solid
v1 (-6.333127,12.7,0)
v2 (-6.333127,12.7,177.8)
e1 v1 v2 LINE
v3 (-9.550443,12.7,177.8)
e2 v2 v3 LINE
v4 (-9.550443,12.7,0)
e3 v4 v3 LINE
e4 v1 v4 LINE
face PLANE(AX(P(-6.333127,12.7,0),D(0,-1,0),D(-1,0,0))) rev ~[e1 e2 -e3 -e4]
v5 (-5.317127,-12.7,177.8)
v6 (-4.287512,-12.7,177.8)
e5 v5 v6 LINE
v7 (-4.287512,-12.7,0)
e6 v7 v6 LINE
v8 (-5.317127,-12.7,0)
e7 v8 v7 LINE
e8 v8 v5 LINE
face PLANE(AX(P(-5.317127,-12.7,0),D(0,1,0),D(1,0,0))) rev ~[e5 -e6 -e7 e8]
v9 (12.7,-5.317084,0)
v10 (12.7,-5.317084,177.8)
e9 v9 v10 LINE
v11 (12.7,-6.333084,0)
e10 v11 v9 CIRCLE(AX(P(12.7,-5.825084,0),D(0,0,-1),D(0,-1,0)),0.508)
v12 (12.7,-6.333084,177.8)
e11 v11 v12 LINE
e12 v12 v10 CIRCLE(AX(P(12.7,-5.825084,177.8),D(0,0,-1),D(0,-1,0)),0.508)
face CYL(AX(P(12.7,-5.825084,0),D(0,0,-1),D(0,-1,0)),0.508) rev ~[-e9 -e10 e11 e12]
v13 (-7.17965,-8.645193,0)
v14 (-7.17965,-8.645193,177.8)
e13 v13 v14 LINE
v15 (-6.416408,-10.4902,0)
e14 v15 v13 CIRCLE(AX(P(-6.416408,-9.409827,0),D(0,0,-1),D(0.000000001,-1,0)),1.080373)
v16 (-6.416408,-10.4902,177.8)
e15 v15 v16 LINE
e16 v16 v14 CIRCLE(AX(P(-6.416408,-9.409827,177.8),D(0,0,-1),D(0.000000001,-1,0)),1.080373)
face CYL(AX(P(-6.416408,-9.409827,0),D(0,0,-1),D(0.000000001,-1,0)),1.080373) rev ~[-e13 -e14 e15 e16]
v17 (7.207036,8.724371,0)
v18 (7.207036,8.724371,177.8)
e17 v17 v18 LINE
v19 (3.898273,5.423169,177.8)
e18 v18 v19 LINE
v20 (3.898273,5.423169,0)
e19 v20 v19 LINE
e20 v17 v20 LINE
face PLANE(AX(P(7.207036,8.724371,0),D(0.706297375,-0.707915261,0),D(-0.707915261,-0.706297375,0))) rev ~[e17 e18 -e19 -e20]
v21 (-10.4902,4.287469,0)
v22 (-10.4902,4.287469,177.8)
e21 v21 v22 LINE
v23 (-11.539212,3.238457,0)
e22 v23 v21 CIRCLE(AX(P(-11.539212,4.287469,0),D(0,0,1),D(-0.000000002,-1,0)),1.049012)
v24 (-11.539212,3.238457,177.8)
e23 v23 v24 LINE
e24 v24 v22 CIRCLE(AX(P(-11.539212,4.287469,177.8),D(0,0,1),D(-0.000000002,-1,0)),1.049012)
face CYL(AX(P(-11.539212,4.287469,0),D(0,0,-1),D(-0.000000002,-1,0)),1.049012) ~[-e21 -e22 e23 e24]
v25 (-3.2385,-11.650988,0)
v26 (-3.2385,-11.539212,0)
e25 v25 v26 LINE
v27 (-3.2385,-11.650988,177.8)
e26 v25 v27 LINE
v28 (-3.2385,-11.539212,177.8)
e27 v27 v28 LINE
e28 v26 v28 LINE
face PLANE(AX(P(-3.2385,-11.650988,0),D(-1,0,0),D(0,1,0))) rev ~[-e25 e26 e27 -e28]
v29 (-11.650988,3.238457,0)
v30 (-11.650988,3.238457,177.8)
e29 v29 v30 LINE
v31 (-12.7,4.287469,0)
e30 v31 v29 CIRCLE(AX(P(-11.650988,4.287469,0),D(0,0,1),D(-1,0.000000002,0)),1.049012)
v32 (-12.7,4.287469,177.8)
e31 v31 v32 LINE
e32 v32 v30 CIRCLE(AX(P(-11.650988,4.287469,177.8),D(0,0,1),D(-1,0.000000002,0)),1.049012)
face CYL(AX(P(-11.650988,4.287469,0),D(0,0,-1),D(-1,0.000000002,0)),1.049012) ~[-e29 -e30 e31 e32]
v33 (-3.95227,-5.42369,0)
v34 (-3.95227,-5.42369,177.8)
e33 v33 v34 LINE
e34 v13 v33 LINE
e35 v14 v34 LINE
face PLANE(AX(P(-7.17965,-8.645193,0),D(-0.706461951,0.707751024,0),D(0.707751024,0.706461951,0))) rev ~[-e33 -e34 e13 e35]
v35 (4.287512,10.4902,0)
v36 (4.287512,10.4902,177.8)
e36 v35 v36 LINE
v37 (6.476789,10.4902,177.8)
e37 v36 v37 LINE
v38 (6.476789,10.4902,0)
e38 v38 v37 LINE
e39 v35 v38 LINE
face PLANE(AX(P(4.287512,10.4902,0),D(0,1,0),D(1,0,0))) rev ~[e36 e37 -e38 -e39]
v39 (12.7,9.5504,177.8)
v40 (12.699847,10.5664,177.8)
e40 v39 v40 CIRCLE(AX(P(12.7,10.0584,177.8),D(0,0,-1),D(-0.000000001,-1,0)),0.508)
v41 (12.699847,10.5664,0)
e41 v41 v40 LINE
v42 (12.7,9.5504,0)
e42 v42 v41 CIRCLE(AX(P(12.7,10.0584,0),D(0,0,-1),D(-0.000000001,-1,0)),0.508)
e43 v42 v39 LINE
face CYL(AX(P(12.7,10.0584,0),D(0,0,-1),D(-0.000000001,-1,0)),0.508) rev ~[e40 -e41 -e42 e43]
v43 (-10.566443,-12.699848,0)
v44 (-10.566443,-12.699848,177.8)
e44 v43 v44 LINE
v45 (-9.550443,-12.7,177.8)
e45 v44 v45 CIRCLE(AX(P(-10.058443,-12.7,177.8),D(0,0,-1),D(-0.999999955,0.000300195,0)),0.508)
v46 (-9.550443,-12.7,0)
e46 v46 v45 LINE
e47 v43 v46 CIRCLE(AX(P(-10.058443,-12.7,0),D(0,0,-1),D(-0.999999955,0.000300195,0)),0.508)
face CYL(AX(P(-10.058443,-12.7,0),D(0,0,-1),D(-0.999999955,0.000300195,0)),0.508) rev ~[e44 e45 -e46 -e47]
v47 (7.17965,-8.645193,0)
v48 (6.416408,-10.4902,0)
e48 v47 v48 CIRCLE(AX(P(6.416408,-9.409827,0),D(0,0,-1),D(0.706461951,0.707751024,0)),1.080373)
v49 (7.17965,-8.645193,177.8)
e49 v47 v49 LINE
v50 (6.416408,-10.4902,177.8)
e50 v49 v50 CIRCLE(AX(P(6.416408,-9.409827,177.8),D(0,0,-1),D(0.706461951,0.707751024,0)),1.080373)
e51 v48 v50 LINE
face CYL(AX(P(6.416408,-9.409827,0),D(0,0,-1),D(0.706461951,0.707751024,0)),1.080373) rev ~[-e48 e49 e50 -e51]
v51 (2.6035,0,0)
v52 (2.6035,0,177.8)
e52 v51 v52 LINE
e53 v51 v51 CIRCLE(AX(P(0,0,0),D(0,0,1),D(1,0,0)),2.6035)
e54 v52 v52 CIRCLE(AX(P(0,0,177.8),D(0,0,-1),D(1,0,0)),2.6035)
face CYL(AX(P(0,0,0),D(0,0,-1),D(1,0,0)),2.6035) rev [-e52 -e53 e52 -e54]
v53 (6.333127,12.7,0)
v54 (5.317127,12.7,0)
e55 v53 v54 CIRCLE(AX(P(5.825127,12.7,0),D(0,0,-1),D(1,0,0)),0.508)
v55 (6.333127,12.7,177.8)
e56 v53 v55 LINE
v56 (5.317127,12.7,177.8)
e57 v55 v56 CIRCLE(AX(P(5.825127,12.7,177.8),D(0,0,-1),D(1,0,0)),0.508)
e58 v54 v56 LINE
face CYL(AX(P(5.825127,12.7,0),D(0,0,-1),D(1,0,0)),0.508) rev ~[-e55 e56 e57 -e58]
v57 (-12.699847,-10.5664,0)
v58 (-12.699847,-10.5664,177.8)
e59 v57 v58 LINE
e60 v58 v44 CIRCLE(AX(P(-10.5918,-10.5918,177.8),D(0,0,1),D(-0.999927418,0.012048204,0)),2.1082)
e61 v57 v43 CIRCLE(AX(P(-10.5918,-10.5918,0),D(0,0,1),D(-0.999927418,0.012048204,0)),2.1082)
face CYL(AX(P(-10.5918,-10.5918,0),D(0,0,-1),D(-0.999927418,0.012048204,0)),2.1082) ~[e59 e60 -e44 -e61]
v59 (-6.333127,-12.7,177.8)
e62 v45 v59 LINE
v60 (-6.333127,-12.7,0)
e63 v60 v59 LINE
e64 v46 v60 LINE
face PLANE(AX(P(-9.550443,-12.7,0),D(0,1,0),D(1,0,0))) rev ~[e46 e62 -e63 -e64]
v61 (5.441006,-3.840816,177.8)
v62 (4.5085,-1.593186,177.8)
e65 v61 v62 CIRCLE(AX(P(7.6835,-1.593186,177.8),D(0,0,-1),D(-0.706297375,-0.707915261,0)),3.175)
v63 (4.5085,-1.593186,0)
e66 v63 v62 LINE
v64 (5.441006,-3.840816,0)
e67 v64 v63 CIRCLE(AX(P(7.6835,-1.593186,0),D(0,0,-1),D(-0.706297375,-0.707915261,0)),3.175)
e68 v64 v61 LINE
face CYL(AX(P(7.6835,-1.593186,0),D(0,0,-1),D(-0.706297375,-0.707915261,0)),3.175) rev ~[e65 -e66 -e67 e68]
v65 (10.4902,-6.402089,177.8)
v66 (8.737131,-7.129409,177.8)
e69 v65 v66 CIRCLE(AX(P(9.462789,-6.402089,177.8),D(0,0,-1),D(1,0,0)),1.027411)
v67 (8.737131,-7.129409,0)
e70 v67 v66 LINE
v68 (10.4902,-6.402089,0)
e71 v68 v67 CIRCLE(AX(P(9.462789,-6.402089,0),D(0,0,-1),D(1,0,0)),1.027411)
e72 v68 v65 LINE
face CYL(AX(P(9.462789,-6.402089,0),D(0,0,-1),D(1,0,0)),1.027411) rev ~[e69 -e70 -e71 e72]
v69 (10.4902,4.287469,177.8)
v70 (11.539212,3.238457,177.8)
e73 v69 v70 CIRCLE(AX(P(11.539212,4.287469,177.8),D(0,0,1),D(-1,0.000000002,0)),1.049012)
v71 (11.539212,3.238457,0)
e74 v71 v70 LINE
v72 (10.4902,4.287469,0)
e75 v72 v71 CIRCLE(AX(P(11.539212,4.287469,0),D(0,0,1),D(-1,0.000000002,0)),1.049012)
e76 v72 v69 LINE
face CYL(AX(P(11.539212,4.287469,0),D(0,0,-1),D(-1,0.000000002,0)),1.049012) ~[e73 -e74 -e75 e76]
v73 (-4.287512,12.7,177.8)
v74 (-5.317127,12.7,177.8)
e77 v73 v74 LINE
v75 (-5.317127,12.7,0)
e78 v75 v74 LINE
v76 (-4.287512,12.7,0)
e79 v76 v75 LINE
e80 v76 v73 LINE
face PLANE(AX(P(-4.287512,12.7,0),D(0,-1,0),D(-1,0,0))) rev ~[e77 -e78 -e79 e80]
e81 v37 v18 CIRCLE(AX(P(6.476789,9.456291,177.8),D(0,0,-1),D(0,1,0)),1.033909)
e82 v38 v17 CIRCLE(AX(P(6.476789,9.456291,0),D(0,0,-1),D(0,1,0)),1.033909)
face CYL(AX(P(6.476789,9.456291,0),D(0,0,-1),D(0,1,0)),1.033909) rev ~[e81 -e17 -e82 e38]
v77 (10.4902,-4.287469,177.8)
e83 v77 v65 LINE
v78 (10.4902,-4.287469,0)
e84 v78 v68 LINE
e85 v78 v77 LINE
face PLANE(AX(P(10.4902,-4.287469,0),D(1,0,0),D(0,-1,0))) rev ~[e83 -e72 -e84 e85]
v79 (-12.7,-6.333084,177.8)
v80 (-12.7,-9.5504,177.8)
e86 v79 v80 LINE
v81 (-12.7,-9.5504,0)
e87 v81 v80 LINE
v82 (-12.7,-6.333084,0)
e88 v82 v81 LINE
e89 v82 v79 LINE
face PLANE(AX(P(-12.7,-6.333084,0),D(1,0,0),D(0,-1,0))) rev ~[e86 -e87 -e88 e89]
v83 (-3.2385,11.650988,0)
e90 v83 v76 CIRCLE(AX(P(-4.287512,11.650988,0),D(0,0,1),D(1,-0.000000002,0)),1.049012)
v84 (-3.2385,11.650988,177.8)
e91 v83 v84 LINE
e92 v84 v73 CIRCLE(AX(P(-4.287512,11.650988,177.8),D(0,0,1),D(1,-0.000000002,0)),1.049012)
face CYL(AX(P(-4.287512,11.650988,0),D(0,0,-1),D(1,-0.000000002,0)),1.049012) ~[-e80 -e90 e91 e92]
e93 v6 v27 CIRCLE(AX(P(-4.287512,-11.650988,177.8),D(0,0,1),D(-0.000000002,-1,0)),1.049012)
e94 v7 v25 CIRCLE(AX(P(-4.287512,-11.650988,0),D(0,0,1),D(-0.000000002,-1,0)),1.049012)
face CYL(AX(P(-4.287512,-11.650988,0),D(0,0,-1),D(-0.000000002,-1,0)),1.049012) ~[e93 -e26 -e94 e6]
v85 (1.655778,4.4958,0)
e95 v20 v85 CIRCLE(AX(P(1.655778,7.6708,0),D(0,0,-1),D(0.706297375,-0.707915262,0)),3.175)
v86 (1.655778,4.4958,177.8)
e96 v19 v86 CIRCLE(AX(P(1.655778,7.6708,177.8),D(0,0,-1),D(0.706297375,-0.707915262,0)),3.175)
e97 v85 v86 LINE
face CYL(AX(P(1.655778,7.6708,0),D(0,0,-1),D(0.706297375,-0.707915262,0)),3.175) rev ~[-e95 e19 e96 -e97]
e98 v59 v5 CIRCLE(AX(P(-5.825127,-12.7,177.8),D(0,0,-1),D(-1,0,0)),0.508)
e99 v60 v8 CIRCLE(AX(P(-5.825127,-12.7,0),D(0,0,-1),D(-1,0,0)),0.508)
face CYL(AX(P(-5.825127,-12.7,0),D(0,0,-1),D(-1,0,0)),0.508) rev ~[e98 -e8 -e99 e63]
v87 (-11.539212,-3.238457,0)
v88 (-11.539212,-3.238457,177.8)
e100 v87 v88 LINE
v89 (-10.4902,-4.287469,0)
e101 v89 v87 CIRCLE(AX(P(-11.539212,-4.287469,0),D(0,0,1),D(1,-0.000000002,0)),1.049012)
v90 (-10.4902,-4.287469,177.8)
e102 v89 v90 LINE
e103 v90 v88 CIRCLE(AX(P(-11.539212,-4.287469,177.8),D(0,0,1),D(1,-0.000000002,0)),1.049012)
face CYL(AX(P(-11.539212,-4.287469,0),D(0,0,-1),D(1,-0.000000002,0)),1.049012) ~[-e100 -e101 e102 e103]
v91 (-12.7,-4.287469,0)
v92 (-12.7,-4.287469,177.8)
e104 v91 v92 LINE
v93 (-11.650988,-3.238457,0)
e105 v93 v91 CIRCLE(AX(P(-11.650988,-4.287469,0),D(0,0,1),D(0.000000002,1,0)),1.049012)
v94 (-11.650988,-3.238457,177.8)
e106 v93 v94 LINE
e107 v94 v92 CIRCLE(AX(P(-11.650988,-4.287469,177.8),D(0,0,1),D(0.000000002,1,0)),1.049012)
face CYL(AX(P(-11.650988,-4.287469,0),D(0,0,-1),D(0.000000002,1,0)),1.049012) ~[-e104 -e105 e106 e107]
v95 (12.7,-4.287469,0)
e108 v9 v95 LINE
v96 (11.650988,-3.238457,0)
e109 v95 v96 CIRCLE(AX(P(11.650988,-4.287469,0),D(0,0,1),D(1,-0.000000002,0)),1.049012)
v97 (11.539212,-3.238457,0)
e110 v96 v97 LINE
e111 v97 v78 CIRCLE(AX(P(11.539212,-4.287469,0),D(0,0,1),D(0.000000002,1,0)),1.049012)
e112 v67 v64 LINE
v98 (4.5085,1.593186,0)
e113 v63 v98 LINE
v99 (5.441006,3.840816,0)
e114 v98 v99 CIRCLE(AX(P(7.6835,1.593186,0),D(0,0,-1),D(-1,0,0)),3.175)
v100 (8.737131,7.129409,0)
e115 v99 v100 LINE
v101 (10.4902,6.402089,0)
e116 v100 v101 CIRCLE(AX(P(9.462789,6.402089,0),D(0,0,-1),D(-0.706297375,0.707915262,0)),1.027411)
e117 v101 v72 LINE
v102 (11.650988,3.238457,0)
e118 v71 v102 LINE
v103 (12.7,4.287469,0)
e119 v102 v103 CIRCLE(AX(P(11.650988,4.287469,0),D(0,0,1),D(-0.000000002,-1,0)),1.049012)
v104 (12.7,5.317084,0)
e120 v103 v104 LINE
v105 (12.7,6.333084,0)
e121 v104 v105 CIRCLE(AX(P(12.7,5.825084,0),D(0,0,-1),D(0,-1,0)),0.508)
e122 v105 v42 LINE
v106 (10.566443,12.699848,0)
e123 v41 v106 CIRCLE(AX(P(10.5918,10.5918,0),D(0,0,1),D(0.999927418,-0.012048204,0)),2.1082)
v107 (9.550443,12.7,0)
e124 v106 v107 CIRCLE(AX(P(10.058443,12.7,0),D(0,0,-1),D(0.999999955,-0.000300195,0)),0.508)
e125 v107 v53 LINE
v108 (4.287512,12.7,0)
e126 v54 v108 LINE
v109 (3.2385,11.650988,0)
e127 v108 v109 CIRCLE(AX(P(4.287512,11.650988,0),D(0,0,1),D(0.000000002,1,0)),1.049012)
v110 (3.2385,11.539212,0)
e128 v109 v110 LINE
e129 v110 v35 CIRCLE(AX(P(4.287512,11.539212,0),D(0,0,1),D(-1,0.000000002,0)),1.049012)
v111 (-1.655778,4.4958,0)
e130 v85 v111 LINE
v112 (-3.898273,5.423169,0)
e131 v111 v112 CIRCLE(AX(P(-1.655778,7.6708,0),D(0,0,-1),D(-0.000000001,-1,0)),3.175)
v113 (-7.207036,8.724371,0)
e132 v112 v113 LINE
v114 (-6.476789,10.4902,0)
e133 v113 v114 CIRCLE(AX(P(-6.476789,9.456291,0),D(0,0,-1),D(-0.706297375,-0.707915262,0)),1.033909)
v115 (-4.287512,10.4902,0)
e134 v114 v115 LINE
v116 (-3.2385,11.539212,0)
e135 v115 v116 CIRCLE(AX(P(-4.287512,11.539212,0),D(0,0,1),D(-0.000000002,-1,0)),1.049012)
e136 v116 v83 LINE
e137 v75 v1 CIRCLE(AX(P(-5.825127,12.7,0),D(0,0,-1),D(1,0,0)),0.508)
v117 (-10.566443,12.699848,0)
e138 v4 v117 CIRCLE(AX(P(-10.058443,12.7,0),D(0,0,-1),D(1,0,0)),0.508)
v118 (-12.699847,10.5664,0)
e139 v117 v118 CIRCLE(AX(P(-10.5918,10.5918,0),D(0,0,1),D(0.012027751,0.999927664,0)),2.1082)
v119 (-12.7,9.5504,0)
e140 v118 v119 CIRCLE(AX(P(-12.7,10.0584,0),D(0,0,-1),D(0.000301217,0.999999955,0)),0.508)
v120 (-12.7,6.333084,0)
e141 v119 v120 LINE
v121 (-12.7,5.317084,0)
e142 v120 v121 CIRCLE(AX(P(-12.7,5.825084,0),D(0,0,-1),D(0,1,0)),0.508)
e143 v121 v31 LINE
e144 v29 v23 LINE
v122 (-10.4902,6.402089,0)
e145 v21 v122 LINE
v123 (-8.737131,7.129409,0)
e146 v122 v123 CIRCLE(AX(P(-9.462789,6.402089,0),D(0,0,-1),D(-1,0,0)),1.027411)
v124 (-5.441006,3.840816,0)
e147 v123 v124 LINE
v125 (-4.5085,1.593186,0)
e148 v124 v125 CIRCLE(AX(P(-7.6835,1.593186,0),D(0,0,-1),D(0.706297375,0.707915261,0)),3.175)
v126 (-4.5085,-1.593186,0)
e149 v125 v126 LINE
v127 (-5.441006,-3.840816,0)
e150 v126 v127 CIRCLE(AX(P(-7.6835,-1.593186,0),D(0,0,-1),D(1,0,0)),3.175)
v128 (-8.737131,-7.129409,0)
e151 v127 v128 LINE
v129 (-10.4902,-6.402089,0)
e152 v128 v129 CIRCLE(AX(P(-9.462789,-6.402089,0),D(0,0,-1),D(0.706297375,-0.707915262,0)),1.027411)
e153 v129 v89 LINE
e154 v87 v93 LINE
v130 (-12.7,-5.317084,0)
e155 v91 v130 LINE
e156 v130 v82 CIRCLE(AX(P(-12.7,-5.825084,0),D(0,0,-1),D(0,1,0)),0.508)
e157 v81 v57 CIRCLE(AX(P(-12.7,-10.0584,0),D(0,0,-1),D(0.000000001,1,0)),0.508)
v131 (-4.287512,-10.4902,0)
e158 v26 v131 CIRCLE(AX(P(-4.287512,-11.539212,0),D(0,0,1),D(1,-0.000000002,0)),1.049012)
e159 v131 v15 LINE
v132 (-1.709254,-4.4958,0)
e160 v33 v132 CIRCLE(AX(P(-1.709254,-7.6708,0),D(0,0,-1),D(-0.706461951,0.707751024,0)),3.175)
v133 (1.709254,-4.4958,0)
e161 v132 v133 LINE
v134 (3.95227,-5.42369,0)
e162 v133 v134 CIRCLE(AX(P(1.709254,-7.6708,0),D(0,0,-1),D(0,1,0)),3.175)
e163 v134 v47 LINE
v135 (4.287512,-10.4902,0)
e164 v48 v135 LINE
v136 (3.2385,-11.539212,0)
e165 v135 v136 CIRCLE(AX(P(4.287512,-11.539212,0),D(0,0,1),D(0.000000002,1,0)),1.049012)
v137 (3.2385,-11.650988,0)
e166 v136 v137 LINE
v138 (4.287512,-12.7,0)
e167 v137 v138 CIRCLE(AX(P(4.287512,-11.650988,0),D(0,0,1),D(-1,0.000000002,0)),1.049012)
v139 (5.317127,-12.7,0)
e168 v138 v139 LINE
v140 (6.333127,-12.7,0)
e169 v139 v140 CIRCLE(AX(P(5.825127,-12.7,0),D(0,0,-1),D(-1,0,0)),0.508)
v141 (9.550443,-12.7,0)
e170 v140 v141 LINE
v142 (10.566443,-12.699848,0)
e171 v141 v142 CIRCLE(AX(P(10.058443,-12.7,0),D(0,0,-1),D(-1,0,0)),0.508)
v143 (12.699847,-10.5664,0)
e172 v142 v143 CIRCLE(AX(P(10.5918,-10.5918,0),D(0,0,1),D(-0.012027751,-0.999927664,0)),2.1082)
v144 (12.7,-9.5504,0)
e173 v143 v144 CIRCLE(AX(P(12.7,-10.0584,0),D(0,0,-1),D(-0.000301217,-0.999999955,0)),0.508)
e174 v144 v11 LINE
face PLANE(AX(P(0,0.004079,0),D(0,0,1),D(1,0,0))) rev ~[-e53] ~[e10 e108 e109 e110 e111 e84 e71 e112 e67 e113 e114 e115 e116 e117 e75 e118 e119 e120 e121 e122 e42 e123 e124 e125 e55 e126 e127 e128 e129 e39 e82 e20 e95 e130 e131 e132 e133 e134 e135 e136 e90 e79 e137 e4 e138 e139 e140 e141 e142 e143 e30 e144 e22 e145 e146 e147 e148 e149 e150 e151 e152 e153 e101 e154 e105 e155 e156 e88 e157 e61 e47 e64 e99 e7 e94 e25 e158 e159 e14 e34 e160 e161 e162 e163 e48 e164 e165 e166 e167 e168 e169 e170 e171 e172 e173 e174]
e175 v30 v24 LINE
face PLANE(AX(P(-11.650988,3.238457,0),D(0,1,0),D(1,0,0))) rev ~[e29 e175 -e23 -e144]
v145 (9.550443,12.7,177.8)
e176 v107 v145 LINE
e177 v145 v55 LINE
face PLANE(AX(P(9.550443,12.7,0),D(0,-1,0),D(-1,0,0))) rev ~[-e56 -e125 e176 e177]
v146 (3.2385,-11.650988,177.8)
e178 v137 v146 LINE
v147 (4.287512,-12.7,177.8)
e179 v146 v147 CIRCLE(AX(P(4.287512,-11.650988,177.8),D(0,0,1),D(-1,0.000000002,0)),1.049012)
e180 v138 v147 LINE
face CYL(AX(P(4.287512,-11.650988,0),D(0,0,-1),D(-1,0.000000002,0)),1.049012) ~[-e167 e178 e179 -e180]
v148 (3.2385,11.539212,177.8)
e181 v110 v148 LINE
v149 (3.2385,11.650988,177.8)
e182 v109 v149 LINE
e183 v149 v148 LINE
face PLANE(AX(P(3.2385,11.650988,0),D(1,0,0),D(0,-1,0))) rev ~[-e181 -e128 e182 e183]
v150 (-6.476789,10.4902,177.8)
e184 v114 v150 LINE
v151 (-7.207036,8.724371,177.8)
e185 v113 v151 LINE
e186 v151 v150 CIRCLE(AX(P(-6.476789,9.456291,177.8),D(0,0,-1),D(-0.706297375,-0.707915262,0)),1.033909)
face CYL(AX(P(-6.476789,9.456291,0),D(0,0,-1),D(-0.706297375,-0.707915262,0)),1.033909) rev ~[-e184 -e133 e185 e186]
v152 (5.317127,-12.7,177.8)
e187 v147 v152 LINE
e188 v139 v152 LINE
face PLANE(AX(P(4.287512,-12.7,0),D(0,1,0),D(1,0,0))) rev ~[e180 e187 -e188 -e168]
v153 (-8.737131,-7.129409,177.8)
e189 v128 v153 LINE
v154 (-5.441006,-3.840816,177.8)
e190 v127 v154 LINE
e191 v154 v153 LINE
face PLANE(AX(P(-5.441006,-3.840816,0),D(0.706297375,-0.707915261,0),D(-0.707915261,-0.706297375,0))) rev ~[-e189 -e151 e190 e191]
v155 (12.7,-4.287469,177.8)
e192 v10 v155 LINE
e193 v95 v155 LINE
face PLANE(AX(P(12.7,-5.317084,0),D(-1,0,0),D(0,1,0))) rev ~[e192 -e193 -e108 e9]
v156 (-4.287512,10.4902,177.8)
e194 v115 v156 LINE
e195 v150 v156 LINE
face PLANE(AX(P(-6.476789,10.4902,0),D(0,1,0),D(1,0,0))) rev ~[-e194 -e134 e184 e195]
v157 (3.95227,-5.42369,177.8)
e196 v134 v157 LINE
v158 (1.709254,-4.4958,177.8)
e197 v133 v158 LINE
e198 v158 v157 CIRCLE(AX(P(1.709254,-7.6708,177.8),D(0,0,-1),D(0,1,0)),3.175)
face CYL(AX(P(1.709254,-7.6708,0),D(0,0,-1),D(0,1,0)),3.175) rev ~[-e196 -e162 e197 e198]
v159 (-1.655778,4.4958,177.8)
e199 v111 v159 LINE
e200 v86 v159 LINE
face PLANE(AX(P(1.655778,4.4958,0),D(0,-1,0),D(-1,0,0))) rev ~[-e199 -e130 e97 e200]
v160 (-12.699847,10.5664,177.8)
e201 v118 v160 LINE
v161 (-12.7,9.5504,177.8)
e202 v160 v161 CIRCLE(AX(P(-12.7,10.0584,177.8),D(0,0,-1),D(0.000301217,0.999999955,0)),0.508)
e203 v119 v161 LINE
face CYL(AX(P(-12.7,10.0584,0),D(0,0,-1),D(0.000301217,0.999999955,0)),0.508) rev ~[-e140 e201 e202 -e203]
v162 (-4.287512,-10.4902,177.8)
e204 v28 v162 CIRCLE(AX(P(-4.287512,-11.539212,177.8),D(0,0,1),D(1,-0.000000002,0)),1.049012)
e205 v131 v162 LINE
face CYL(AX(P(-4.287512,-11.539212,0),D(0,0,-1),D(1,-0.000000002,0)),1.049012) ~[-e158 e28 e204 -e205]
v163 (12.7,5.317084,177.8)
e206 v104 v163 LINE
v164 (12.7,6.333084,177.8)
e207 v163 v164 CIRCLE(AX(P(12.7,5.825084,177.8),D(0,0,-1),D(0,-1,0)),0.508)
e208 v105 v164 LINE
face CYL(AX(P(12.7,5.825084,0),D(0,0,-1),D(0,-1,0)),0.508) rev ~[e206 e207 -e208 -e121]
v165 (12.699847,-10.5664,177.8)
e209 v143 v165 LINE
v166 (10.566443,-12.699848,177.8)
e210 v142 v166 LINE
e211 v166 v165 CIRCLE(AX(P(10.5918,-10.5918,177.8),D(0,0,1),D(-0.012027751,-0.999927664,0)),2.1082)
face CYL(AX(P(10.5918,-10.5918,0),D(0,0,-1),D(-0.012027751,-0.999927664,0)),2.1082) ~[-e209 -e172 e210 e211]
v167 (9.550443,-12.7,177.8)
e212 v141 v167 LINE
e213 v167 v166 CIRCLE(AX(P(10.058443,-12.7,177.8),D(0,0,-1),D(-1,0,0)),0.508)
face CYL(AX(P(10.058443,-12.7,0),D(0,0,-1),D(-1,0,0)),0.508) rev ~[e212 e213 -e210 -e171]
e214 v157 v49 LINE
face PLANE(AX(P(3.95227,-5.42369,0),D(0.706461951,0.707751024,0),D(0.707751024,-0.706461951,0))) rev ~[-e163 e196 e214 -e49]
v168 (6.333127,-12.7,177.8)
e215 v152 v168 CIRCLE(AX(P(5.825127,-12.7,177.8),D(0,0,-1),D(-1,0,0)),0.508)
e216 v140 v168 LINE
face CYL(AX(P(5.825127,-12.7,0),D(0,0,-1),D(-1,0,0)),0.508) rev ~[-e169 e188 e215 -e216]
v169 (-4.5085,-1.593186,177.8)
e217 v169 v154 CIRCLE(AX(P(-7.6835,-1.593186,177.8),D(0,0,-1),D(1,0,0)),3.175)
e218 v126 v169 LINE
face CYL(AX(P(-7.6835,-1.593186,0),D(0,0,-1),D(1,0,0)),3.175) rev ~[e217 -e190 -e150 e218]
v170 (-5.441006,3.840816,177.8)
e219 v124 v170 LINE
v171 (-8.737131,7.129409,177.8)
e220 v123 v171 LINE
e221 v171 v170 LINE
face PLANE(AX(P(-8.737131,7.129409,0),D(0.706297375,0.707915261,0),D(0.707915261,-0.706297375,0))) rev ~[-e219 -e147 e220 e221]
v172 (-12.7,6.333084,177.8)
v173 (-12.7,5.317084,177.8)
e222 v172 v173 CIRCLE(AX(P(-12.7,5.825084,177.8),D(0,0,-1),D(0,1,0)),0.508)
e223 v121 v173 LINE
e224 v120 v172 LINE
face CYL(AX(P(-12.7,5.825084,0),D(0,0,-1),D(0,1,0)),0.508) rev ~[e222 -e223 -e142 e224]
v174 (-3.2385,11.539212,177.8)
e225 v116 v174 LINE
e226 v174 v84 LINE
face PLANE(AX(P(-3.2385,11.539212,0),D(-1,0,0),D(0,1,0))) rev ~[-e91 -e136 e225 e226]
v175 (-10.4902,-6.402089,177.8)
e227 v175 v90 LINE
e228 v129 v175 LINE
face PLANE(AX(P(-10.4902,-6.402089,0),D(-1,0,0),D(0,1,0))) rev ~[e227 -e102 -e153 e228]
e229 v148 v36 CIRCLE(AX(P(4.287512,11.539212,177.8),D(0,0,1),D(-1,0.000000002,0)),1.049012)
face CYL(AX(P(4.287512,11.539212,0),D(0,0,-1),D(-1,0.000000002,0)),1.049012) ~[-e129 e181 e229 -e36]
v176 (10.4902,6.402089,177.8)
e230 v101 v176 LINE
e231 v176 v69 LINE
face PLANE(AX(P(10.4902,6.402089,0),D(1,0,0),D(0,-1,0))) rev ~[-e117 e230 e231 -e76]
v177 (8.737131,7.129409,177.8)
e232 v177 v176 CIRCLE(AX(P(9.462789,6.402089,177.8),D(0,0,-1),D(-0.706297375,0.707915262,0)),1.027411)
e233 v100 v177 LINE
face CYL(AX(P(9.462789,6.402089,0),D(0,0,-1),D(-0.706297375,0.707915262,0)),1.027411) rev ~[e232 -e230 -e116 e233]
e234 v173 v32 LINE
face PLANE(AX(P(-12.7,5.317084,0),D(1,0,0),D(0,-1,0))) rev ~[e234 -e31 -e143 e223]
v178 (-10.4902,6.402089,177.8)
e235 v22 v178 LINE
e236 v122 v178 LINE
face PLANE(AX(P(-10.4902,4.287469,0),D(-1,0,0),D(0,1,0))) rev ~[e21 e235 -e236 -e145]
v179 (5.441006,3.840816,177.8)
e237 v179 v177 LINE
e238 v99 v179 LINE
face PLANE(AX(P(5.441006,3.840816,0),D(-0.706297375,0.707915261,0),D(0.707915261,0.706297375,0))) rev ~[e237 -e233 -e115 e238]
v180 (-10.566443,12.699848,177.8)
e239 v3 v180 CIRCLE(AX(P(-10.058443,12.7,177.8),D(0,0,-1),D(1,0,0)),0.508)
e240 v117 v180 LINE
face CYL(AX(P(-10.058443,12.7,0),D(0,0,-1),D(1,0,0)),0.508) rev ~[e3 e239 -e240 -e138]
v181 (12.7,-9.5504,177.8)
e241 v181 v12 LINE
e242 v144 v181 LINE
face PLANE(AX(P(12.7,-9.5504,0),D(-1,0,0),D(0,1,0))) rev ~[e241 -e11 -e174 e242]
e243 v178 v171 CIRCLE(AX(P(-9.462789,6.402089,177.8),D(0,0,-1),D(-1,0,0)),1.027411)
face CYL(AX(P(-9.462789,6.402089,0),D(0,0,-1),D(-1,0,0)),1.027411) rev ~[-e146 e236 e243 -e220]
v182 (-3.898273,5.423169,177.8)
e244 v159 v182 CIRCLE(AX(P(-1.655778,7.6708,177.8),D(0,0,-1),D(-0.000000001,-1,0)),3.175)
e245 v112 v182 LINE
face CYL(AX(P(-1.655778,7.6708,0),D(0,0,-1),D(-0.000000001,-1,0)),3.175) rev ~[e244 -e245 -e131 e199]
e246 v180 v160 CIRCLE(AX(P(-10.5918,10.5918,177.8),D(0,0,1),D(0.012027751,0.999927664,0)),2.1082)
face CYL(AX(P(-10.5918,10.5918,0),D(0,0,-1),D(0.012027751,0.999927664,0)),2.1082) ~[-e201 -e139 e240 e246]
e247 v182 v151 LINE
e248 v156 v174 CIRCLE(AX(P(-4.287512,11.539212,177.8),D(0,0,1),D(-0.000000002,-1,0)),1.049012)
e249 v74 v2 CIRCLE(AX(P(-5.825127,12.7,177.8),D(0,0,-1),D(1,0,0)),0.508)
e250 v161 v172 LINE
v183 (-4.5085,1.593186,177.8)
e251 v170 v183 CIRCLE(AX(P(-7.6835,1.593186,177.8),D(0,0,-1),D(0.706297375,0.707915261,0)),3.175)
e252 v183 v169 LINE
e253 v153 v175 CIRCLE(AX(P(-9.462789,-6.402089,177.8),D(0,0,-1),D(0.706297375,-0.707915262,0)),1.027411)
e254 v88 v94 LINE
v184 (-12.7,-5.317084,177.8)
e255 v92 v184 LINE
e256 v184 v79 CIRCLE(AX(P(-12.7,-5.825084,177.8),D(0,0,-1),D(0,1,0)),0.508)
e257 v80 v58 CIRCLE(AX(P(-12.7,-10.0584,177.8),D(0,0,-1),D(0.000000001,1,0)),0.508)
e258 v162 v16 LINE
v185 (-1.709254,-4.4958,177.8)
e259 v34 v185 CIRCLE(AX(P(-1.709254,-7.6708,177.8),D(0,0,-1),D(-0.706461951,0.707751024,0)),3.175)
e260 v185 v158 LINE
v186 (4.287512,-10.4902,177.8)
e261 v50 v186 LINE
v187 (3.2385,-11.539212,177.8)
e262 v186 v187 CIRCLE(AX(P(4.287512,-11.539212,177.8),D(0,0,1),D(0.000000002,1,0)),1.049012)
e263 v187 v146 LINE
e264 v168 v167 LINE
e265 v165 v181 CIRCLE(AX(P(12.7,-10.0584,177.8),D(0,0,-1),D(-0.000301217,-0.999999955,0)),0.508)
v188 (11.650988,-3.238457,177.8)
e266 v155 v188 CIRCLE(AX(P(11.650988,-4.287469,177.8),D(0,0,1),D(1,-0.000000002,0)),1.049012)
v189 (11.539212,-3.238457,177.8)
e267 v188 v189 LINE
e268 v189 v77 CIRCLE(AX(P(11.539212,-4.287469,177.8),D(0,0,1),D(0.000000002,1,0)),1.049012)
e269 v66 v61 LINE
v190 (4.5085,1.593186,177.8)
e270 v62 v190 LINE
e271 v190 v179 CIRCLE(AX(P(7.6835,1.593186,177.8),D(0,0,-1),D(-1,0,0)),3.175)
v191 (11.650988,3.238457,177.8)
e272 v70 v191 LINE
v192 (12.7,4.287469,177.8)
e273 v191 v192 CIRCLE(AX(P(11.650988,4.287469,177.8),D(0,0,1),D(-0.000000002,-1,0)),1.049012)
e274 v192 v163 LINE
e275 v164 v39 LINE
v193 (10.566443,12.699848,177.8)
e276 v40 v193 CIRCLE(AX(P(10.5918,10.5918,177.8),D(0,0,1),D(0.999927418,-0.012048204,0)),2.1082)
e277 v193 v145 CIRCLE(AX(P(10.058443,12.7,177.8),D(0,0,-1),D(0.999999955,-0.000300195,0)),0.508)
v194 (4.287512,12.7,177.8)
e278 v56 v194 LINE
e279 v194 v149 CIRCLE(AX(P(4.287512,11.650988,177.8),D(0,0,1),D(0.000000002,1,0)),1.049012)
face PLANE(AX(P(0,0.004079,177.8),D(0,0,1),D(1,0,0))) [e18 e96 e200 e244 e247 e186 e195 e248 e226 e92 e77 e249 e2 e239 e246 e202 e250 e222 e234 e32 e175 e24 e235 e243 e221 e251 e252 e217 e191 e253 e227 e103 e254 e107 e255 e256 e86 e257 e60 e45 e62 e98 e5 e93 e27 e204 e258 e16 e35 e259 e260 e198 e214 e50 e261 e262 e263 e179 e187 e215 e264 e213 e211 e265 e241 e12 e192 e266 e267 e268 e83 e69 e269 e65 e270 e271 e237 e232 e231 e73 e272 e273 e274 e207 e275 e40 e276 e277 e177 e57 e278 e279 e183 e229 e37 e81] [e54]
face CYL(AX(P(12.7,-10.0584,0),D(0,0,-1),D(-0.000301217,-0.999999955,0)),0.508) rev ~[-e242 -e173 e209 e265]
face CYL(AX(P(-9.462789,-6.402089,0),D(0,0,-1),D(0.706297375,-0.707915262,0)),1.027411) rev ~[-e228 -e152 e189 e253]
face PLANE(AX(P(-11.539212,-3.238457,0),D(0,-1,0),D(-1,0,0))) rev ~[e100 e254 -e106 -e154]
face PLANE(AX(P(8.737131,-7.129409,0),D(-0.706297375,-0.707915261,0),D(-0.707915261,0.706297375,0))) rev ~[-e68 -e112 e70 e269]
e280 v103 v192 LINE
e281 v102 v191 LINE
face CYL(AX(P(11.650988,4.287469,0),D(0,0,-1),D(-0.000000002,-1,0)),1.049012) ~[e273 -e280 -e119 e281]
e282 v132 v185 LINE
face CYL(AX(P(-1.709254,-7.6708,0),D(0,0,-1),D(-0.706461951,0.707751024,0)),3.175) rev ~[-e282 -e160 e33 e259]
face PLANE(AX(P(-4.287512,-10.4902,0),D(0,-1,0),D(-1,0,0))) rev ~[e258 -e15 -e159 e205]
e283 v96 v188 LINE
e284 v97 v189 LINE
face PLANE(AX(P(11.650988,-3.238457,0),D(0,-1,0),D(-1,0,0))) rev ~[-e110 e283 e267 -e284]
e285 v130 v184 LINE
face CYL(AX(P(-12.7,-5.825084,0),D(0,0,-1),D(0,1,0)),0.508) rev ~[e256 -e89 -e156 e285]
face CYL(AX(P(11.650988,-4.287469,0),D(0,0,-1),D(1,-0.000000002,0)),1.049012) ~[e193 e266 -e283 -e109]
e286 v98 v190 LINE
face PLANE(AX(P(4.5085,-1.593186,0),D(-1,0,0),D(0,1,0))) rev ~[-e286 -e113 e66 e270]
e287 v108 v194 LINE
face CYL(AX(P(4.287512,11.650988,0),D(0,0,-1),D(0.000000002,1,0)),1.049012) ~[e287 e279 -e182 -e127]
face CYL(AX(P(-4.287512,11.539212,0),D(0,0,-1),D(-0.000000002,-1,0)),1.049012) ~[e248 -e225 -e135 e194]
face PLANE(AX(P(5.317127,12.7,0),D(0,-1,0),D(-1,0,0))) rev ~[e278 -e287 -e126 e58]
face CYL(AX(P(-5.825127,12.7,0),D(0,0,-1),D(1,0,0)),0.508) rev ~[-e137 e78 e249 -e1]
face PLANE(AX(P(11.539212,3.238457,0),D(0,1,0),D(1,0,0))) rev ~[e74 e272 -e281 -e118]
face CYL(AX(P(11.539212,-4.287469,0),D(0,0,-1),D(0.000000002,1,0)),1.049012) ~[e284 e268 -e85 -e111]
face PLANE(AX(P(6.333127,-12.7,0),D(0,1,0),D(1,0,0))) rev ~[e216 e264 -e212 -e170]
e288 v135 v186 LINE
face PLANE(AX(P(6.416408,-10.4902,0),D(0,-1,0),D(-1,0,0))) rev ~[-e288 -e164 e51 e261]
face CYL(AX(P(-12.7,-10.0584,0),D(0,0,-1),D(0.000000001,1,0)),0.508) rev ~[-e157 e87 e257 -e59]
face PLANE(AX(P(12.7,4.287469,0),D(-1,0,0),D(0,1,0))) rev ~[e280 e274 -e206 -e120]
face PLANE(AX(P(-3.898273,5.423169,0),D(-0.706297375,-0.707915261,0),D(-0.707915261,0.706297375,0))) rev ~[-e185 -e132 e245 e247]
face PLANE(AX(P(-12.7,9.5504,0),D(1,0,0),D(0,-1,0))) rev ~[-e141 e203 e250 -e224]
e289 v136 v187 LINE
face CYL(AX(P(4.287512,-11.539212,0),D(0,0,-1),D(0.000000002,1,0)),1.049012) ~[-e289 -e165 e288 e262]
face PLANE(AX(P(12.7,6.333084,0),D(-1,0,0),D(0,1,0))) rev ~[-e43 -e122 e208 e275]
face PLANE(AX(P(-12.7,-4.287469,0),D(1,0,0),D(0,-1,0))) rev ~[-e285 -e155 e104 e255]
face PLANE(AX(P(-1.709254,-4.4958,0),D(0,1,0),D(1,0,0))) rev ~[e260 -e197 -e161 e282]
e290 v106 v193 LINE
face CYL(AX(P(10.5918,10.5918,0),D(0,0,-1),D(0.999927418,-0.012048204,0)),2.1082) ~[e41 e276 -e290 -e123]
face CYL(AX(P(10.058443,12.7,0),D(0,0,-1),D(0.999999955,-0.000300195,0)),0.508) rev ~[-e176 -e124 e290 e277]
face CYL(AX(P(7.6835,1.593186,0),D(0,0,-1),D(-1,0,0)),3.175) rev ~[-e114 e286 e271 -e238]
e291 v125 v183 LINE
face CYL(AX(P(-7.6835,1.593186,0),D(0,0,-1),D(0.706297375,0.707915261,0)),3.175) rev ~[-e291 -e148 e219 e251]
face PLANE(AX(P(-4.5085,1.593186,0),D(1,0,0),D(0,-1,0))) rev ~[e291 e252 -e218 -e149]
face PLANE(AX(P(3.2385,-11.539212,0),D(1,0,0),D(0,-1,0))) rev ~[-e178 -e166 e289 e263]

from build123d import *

# Parameters (mm, degrees)
SKETCH1_R           = 2.6035
BOSS_EXTRUDE1_DEPTH = 2463.8
CUT_EXTRUDE1_DEPTH  = 2286


with BuildPart() as part:
    # Sketch1 → Boss-Extrude1 (new body)
    with BuildSketch(Plane.XY):
        with BuildLine():
            Line((-1.709253557, -4.4958), (1.709253557, -4.4958))
            ThreePointArc((1.709253557, -4.4958), (2.922936451, -4.736929036), (3.952270251, -5.423690499))
            Line((3.952270251, -5.423690499), (7.179650497, -8.645192506))
            ThreePointArc((7.179650497, -8.645192506), (7.41473083, -9.822813117), (6.416408329, -10.4902))
            Line((6.416408329, -10.4902), (4.287512407, -10.4902))
            ThreePointArc((4.287512407, -10.4902), (3.54574862, -10.79744862), (3.2385, -11.539212407))
            Line((3.2385, -11.539212407), (3.2385, -11.650987593))
            ThreePointArc((3.2385, -11.650987593), (3.54574862, -12.39275138), (4.287512407, -12.7))
            Line((4.287512407, -12.7), (5.317126718, -12.7))
            ThreePointArc((5.317126718, -12.7), (5.825126718, -12.192), (6.333126718, -12.7))
            Line((6.333126718, -12.7), (9.550443118, -12.7))
            ThreePointArc((9.550443118, -12.7), (10.058366869, -12.192000006), (10.566443095, -12.699847501))
            ThreePointArc((10.566443095, -12.699847501), (12.082537762, -12.08250727), (12.699846982, -10.566399977))
            ThreePointArc((12.699846982, -10.566399977), (12.192000006, -10.058323491), (12.7, -9.5504))
            Line((12.7, -9.5504), (12.7, -6.3330836))
            ThreePointArc((12.7, -6.3330836), (12.192, -5.8250836), (12.7, -5.3170836))
            Line((12.7, -5.3170836), (12.7, -4.287469289))
            ThreePointArc((12.7, -4.287469289), (12.39275138, -3.545705502), (11.650987593, -3.238456882))
            Line((11.650987593, -3.238456882), (11.539212407, -3.238456882))
            ThreePointArc((11.539212407, -3.238456882), (10.79744862, -3.545705502), (10.4902, -4.287469289))
            Line((10.4902, -4.287469289), (10.4902, -6.402089023))
            ThreePointArc((10.4902, -6.402089023), (9.856505071, -7.351067942), (8.737131347, -7.129408934))
            Line((8.737131347, -7.129408934), (5.441005833, -3.840816462))
            ThreePointArc((5.441005833, -3.840816462), (4.750877967, -2.809883091), (4.5085, -1.593185507))
            Line((4.5085, -1.593185507), (4.5085, 1.593185507))
            ThreePointArc((4.5085, 1.593185507), (4.750877967, 2.809883091), (5.441005833, 3.840816462))
            Line((5.441005833, 3.840816462), (8.737131347, 7.129408934))
            ThreePointArc((8.737131347, 7.129408934), (9.856505071, 7.351067942), (10.4902, 6.402089023))
            Line((10.4902, 6.402089023), (10.4902, 4.287469289))
            ThreePointArc((10.4902, 4.287469289), (10.79744862, 3.545705502), (11.539212407, 3.238456882))
            Line((11.539212407, 3.238456882), (11.650987593, 3.238456882))
            ThreePointArc((11.650987593, 3.238456882), (12.39275138, 3.545705502), (12.7, 4.287469289))
            Line((12.7, 4.287469289), (12.7, 5.3170836))
            ThreePointArc((12.7, 5.3170836), (12.192, 5.8250836), (12.7, 6.3330836))
            Line((12.7, 6.3330836), (12.7, 9.5504))
            ThreePointArc((12.7, 9.5504), (12.192000006, 10.058323491), (12.699846982, 10.566399977))
            ThreePointArc((12.699846982, 10.566399977), (12.082537762, 12.08250727), (10.566443095, 12.699847501))
            ThreePointArc((10.566443095, 12.699847501), (10.058366869, 12.192000006), (9.550443118, 12.7))
            Line((9.550443118, 12.7), (6.333126718, 12.7))
            ThreePointArc((6.333126718, 12.7), (5.825126718, 12.192), (5.317126718, 12.7))
            Line((5.317126718, 12.7), (4.287512407, 12.7))
            ThreePointArc((4.287512407, 12.7), (3.54574862, 12.39275138), (3.2385, 11.650987593))
            Line((3.2385, 11.650987593), (3.2385, 11.539212407))
            ThreePointArc((3.2385, 11.539212407), (3.54574862, 10.79744862), (4.287512407, 10.4902))
            Line((4.287512407, 10.4902), (6.476788598, 10.4902))
            ThreePointArc((6.476788598, 10.4902), (7.432222385, 9.85140422), (7.207036008, 8.724370562))
            Line((7.207036008, 8.724370562), (3.898272566, 5.423169045))
            ThreePointArc((3.898272566, 5.423169045), (2.869120213, 4.736787962), (1.655778399, 4.4958))
            Line((1.655778399, 4.4958), (-1.655778399, 4.4958))
            ThreePointArc((-1.655778399, 4.4958), (-2.869120213, 4.736787962), (-3.898272566, 5.423169045))
            Line((-3.898272566, 5.423169045), (-7.207036008, 8.724370562))
            ThreePointArc((-7.207036008, 8.724370562), (-7.432222385, 9.85140422), (-6.476788598, 10.4902))
            Line((-6.476788598, 10.4902), (-4.287512407, 10.4902))
            ThreePointArc((-4.287512407, 10.4902), (-3.54574862, 10.79744862), (-3.2385, 11.539212407))
            Line((-3.2385, 11.539212407), (-3.2385, 11.650987593))
            ThreePointArc((-3.2385, 11.650987593), (-3.54574862, 12.39275138), (-4.287512407, 12.7))
            Line((-4.287512407, 12.7), (-5.317126718, 12.7))
            ThreePointArc((-5.317126718, 12.7), (-5.825126718, 12.192), (-6.333126718, 12.7))
            Line((-6.333126718, 12.7), (-9.550443118, 12.7))
            ThreePointArc((-9.550443118, 12.7), (-10.058366869, 12.192000006), (-10.566443095, 12.699847501))
            ThreePointArc((-10.566443095, 12.699847501), (-12.082537762, 12.08250727), (-12.699846982, 10.566399977))
            ThreePointArc((-12.699846982, 10.566399977), (-12.192000006, 10.058323491), (-12.7, 9.5504))
            Line((-12.7, 9.5504), (-12.7, 6.3330836))
            ThreePointArc((-12.7, 6.3330836), (-12.192, 5.8250836), (-12.7, 5.3170836))
            Line((-12.7, 5.3170836), (-12.7, 4.287469289))
            ThreePointArc((-12.7, 4.287469289), (-12.39275138, 3.545705502), (-11.650987593, 3.238456882))
            Line((-11.650987593, 3.238456882), (-11.539212407, 3.238456882))
            ThreePointArc((-11.539212407, 3.238456882), (-10.79744862, 3.545705502), (-10.4902, 4.287469289))
            Line((-10.4902, 4.287469289), (-10.4902, 6.402089023))
            ThreePointArc((-10.4902, 6.402089023), (-9.856505071, 7.351067942), (-8.737131347, 7.129408934))
            Line((-8.737131347, 7.129408934), (-5.441005833, 3.840816462))
            ThreePointArc((-5.441005833, 3.840816462), (-4.750877967, 2.809883091), (-4.5085, 1.593185507))
            Line((-4.5085, 1.593185507), (-4.5085, -1.593185507))
            ThreePointArc((-4.5085, -1.593185507), (-4.750877967, -2.809883091), (-5.441005833, -3.840816462))
            Line((-5.441005833, -3.840816462), (-8.737131347, -7.129408934))
            ThreePointArc((-8.737131347, -7.129408934), (-9.856505071, -7.351067942), (-10.4902, -6.402089023))
            Line((-10.4902, -6.402089023), (-10.4902, -4.287469289))
            ThreePointArc((-10.4902, -4.287469289), (-10.79744862, -3.545705502), (-11.539212407, -3.238456882))
            Line((-11.539212407, -3.238456882), (-11.650987593, -3.238456882))
            ThreePointArc((-11.650987593, -3.238456882), (-12.39275138, -3.545705502), (-12.7, -4.287469289))
            Line((-12.7, -4.287469289), (-12.7, -5.3170836))
            ThreePointArc((-12.7, -5.3170836), (-12.192, -5.8250836), (-12.7, -6.3330836))
            Line((-12.7, -6.3330836), (-12.7, -9.5504))
            ThreePointArc((-12.7, -9.5504), (-12.192000006, -10.058323491), (-12.699846982, -10.566399977))
            ThreePointArc((-12.699846982, -10.566399977), (-12.082537762, -12.08250727), (-10.566443095, -12.699847501))
            ThreePointArc((-10.566443095, -12.699847501), (-10.058366869, -12.192000006), (-9.550443118, -12.7))
            Line((-9.550443118, -12.7), (-6.333126718, -12.7))
            ThreePointArc((-6.333126718, -12.7), (-5.825126718, -12.192), (-5.317126718, -12.7))
            Line((-5.317126718, -12.7), (-4.287512407, -12.7))
            ThreePointArc((-4.287512407, -12.7), (-3.54574862, -12.39275138), (-3.2385, -11.650987593))
            Line((-3.2385, -11.650987593), (-3.2385, -11.539212407))
            ThreePointArc((-3.2385, -11.539212407), (-3.54574862, -10.79744862), (-4.287512407, -10.4902))
            Line((-4.287512407, -10.4902), (-6.416408329, -10.4902))
            ThreePointArc((-6.416408329, -10.4902), (-7.41473083, -9.822813117), (-7.179650497, -8.645192506))
            Line((-7.179650497, -8.645192506), (-3.952270251, -5.423690499))
            ThreePointArc((-3.952270251, -5.423690499), (-2.922936451, -4.736929036), (-1.709253557, -4.4958))
        make_face()
        Circle(SKETCH1_R, mode=Mode.SUBTRACT)
    extrude(amount=BOSS_EXTRUDE1_DEPTH)

    # Sketch2 → Cut-Extrude1 (cut)
    with BuildSketch(Plane.XY.offset(2463.8)):
        with BuildLine():
            Line((-1.709253557, -4.4958), (1.709253557, -4.4958))
            ThreePointArc((1.709253557, -4.4958), (2.922936451, -4.736929036), (3.952270251, -5.423690499))
            Line((3.952270251, -5.423690499), (7.179650497, -8.645192506))
            ThreePointArc((7.179650497, -8.645192506), (7.41473083, -9.822813117), (6.416408329, -10.4902))
            Line((6.416408329, -10.4902), (4.287512407, -10.4902))
            ThreePointArc((4.287512407, -10.4902), (3.54574862, -10.79744862), (3.2385, -11.539212407))
            Line((3.2385, -11.539212407), (3.2385, -11.650987593))
            ThreePointArc((3.2385, -11.650987593), (3.54574862, -12.39275138), (4.287512407, -12.7))
            Line((4.287512407, -12.7), (5.317126718, -12.7))
            ThreePointArc((5.317126718, -12.7), (5.825126718, -12.192), (6.333126718, -12.7))
            Line((6.333126718, -12.7), (9.550443118, -12.7))
            ThreePointArc((9.550443118, -12.7), (10.058366869, -12.192000006), (10.566443095, -12.699847501))
            ThreePointArc((10.566443095, -12.699847501), (12.082537762, -12.08250727), (12.699846982, -10.566399977))
            ThreePointArc((12.699846982, -10.566399977), (12.192000006, -10.058323491), (12.7, -9.5504))
            Line((12.7, -9.5504), (12.7, -6.3330836))
            ThreePointArc((12.7, -6.3330836), (12.192, -5.8250836), (12.7, -5.3170836))
            Line((12.7, -5.3170836), (12.7, -4.287469289))
            ThreePointArc((12.7, -4.287469289), (12.39275138, -3.545705502), (11.650987593, -3.238456882))
            Line((11.650987593, -3.238456882), (11.539212407, -3.238456882))
            ThreePointArc((11.539212407, -3.238456882), (10.79744862, -3.545705502), (10.4902, -4.287469289))
            Line((10.4902, -4.287469289), (10.4902, -6.402089023))
            ThreePointArc((10.4902, -6.402089023), (9.856505071, -7.351067942), (8.737131347, -7.129408934))
            Line((8.737131347, -7.129408934), (5.441005833, -3.840816462))
            ThreePointArc((5.441005833, -3.840816462), (4.750877967, -2.809883091), (4.5085, -1.593185507))
            Line((4.5085, -1.593185507), (4.5085, 1.593185507))
            ThreePointArc((4.5085, 1.593185507), (4.750877967, 2.809883091), (5.441005833, 3.840816462))
            Line((5.441005833, 3.840816462), (8.737131347, 7.129408934))
            ThreePointArc((8.737131347, 7.129408934), (9.856505071, 7.351067942), (10.4902, 6.402089023))
            Line((10.4902, 6.402089023), (10.4902, 4.287469289))
            ThreePointArc((10.4902, 4.287469289), (10.79744862, 3.545705502), (11.539212407, 3.238456882))
            Line((11.539212407, 3.238456882), (11.650987593, 3.238456882))
            ThreePointArc((11.650987593, 3.238456882), (12.39275138, 3.545705502), (12.7, 4.287469289))
            Line((12.7, 4.287469289), (12.7, 5.3170836))
            ThreePointArc((12.7, 5.3170836), (12.192, 5.8250836), (12.7, 6.3330836))
            Line((12.7, 6.3330836), (12.7, 9.5504))
            ThreePointArc((12.7, 9.5504), (12.192000006, 10.058323491), (12.699846982, 10.566399977))
            ThreePointArc((12.699846982, 10.566399977), (12.082537762, 12.08250727), (10.566443095, 12.699847501))
            ThreePointArc((10.566443095, 12.699847501), (10.058366869, 12.192000006), (9.550443118, 12.7))
            Line((9.550443118, 12.7), (6.333126718, 12.7))
            ThreePointArc((6.333126718, 12.7), (5.825126718, 12.192), (5.317126718, 12.7))
            Line((5.317126718, 12.7), (4.287512407, 12.7))
            ThreePointArc((4.287512407, 12.7), (3.54574862, 12.39275138), (3.2385, 11.650987593))
            Line((3.2385, 11.650987593), (3.2385, 11.539212407))
            ThreePointArc((3.2385, 11.539212407), (3.54574862, 10.79744862), (4.287512407, 10.4902))
            Line((4.287512407, 10.4902), (6.476788598, 10.4902))
            ThreePointArc((6.476788598, 10.4902), (7.432222385, 9.85140422), (7.207036008, 8.724370562))
            Line((7.207036008, 8.724370562), (3.898272566, 5.423169045))
            ThreePointArc((3.898272566, 5.423169045), (2.869120213, 4.736787962), (1.655778399, 4.4958))
            Line((1.655778399, 4.4958), (-1.655778399, 4.4958))
            ThreePointArc((-1.655778399, 4.4958), (-2.869120213, 4.736787962), (-3.898272566, 5.423169045))
            Line((-3.898272566, 5.423169045), (-7.207036008, 8.724370562))
            ThreePointArc((-7.207036008, 8.724370562), (-7.432222385, 9.85140422), (-6.476788598, 10.4902))
            Line((-6.476788598, 10.4902), (-4.287512407, 10.4902))
            ThreePointArc((-4.287512407, 10.4902), (-3.54574862, 10.79744862), (-3.2385, 11.539212407))
            Line((-3.2385, 11.539212407), (-3.2385, 11.650987593))
            ThreePointArc((-3.2385, 11.650987593), (-3.54574862, 12.39275138), (-4.287512407, 12.7))
            Line((-4.287512407, 12.7), (-5.317126718, 12.7))
            ThreePointArc((-5.317126718, 12.7), (-5.825126718, 12.192), (-6.333126718, 12.7))
            Line((-6.333126718, 12.7), (-9.550443118, 12.7))
            ThreePointArc((-9.550443118, 12.7), (-10.058366869, 12.192000006), (-10.566443095, 12.699847501))
            ThreePointArc((-10.566443095, 12.699847501), (-12.082537762, 12.08250727), (-12.699846982, 10.566399977))
            ThreePointArc((-12.699846982, 10.566399977), (-12.192000006, 10.058323491), (-12.7, 9.5504))
            Line((-12.7, 9.5504), (-12.7, 6.3330836))
            ThreePointArc((-12.7, 6.3330836), (-12.192, 5.8250836), (-12.7, 5.3170836))
            Line((-12.7, 5.3170836), (-12.7, 4.287469289))
            ThreePointArc((-12.7, 4.287469289), (-12.39275138, 3.545705502), (-11.650987593, 3.238456882))
            Line((-11.650987593, 3.238456882), (-11.539212407, 3.238456882))
            ThreePointArc((-11.539212407, 3.238456882), (-10.79744862, 3.545705502), (-10.4902, 4.287469289))
            Line((-10.4902, 4.287469289), (-10.4902, 6.402089023))
            ThreePointArc((-10.4902, 6.402089023), (-9.856505071, 7.351067942), (-8.737131347, 7.129408934))
            Line((-8.737131347, 7.129408934), (-5.441005833, 3.840816462))
            ThreePointArc((-5.441005833, 3.840816462), (-4.750877967, 2.809883091), (-4.5085, 1.593185507))
            Line((-4.5085, 1.593185507), (-4.5085, -1.593185507))
            ThreePointArc((-4.5085, -1.593185507), (-4.750877967, -2.809883091), (-5.441005833, -3.840816462))
            Line((-5.441005833, -3.840816462), (-8.737131347, -7.129408934))
            ThreePointArc((-8.737131347, -7.129408934), (-9.856505071, -7.351067942), (-10.4902, -6.402089023))
            Line((-10.4902, -6.402089023), (-10.4902, -4.287469289))
            ThreePointArc((-10.4902, -4.287469289), (-10.79744862, -3.545705502), (-11.539212407, -3.238456882))
            Line((-11.539212407, -3.238456882), (-11.650987593, -3.238456882))
            ThreePointArc((-11.650987593, -3.238456882), (-12.39275138, -3.545705502), (-12.7, -4.287469289))
            Line((-12.7, -4.287469289), (-12.7, -5.3170836))
            ThreePointArc((-12.7, -5.3170836), (-12.192, -5.8250836), (-12.7, -6.3330836))
            Line((-12.7, -6.3330836), (-12.7, -9.5504))
            ThreePointArc((-12.7, -9.5504), (-12.192000006, -10.058323491), (-12.699846982, -10.566399977))
            ThreePointArc((-12.699846982, -10.566399977), (-12.082537762, -12.08250727), (-10.566443095, -12.699847501))
            ThreePointArc((-10.566443095, -12.699847501), (-10.058366869, -12.192000006), (-9.550443118, -12.7))
            Line((-9.550443118, -12.7), (-6.333126718, -12.7))
            ThreePointArc((-6.333126718, -12.7), (-5.825126718, -12.192), (-5.317126718, -12.7))
            Line((-5.317126718, -12.7), (-4.287512407, -12.7))
            ThreePointArc((-4.287512407, -12.7), (-3.54574862, -12.39275138), (-3.2385, -11.650987593))
            Line((-3.2385, -11.650987593), (-3.2385, -11.539212407))
            ThreePointArc((-3.2385, -11.539212407), (-3.54574862, -10.79744862), (-4.287512407, -10.4902))
            Line((-4.287512407, -10.4902), (-6.416408329, -10.4902))
            ThreePointArc((-6.416408329, -10.4902), (-7.41473083, -9.822813117), (-7.179650497, -8.645192506))
            Line((-7.179650497, -8.645192506), (-3.952270251, -5.423690499))
            ThreePointArc((-3.952270251, -5.423690499), (-2.922936451, -4.736929036), (-1.709253557, -4.4958))
        make_face()
    extrude(amount=-CUT_EXTRUDE1_DEPTH, mode=Mode.SUBTRACT)


solid = part.part
